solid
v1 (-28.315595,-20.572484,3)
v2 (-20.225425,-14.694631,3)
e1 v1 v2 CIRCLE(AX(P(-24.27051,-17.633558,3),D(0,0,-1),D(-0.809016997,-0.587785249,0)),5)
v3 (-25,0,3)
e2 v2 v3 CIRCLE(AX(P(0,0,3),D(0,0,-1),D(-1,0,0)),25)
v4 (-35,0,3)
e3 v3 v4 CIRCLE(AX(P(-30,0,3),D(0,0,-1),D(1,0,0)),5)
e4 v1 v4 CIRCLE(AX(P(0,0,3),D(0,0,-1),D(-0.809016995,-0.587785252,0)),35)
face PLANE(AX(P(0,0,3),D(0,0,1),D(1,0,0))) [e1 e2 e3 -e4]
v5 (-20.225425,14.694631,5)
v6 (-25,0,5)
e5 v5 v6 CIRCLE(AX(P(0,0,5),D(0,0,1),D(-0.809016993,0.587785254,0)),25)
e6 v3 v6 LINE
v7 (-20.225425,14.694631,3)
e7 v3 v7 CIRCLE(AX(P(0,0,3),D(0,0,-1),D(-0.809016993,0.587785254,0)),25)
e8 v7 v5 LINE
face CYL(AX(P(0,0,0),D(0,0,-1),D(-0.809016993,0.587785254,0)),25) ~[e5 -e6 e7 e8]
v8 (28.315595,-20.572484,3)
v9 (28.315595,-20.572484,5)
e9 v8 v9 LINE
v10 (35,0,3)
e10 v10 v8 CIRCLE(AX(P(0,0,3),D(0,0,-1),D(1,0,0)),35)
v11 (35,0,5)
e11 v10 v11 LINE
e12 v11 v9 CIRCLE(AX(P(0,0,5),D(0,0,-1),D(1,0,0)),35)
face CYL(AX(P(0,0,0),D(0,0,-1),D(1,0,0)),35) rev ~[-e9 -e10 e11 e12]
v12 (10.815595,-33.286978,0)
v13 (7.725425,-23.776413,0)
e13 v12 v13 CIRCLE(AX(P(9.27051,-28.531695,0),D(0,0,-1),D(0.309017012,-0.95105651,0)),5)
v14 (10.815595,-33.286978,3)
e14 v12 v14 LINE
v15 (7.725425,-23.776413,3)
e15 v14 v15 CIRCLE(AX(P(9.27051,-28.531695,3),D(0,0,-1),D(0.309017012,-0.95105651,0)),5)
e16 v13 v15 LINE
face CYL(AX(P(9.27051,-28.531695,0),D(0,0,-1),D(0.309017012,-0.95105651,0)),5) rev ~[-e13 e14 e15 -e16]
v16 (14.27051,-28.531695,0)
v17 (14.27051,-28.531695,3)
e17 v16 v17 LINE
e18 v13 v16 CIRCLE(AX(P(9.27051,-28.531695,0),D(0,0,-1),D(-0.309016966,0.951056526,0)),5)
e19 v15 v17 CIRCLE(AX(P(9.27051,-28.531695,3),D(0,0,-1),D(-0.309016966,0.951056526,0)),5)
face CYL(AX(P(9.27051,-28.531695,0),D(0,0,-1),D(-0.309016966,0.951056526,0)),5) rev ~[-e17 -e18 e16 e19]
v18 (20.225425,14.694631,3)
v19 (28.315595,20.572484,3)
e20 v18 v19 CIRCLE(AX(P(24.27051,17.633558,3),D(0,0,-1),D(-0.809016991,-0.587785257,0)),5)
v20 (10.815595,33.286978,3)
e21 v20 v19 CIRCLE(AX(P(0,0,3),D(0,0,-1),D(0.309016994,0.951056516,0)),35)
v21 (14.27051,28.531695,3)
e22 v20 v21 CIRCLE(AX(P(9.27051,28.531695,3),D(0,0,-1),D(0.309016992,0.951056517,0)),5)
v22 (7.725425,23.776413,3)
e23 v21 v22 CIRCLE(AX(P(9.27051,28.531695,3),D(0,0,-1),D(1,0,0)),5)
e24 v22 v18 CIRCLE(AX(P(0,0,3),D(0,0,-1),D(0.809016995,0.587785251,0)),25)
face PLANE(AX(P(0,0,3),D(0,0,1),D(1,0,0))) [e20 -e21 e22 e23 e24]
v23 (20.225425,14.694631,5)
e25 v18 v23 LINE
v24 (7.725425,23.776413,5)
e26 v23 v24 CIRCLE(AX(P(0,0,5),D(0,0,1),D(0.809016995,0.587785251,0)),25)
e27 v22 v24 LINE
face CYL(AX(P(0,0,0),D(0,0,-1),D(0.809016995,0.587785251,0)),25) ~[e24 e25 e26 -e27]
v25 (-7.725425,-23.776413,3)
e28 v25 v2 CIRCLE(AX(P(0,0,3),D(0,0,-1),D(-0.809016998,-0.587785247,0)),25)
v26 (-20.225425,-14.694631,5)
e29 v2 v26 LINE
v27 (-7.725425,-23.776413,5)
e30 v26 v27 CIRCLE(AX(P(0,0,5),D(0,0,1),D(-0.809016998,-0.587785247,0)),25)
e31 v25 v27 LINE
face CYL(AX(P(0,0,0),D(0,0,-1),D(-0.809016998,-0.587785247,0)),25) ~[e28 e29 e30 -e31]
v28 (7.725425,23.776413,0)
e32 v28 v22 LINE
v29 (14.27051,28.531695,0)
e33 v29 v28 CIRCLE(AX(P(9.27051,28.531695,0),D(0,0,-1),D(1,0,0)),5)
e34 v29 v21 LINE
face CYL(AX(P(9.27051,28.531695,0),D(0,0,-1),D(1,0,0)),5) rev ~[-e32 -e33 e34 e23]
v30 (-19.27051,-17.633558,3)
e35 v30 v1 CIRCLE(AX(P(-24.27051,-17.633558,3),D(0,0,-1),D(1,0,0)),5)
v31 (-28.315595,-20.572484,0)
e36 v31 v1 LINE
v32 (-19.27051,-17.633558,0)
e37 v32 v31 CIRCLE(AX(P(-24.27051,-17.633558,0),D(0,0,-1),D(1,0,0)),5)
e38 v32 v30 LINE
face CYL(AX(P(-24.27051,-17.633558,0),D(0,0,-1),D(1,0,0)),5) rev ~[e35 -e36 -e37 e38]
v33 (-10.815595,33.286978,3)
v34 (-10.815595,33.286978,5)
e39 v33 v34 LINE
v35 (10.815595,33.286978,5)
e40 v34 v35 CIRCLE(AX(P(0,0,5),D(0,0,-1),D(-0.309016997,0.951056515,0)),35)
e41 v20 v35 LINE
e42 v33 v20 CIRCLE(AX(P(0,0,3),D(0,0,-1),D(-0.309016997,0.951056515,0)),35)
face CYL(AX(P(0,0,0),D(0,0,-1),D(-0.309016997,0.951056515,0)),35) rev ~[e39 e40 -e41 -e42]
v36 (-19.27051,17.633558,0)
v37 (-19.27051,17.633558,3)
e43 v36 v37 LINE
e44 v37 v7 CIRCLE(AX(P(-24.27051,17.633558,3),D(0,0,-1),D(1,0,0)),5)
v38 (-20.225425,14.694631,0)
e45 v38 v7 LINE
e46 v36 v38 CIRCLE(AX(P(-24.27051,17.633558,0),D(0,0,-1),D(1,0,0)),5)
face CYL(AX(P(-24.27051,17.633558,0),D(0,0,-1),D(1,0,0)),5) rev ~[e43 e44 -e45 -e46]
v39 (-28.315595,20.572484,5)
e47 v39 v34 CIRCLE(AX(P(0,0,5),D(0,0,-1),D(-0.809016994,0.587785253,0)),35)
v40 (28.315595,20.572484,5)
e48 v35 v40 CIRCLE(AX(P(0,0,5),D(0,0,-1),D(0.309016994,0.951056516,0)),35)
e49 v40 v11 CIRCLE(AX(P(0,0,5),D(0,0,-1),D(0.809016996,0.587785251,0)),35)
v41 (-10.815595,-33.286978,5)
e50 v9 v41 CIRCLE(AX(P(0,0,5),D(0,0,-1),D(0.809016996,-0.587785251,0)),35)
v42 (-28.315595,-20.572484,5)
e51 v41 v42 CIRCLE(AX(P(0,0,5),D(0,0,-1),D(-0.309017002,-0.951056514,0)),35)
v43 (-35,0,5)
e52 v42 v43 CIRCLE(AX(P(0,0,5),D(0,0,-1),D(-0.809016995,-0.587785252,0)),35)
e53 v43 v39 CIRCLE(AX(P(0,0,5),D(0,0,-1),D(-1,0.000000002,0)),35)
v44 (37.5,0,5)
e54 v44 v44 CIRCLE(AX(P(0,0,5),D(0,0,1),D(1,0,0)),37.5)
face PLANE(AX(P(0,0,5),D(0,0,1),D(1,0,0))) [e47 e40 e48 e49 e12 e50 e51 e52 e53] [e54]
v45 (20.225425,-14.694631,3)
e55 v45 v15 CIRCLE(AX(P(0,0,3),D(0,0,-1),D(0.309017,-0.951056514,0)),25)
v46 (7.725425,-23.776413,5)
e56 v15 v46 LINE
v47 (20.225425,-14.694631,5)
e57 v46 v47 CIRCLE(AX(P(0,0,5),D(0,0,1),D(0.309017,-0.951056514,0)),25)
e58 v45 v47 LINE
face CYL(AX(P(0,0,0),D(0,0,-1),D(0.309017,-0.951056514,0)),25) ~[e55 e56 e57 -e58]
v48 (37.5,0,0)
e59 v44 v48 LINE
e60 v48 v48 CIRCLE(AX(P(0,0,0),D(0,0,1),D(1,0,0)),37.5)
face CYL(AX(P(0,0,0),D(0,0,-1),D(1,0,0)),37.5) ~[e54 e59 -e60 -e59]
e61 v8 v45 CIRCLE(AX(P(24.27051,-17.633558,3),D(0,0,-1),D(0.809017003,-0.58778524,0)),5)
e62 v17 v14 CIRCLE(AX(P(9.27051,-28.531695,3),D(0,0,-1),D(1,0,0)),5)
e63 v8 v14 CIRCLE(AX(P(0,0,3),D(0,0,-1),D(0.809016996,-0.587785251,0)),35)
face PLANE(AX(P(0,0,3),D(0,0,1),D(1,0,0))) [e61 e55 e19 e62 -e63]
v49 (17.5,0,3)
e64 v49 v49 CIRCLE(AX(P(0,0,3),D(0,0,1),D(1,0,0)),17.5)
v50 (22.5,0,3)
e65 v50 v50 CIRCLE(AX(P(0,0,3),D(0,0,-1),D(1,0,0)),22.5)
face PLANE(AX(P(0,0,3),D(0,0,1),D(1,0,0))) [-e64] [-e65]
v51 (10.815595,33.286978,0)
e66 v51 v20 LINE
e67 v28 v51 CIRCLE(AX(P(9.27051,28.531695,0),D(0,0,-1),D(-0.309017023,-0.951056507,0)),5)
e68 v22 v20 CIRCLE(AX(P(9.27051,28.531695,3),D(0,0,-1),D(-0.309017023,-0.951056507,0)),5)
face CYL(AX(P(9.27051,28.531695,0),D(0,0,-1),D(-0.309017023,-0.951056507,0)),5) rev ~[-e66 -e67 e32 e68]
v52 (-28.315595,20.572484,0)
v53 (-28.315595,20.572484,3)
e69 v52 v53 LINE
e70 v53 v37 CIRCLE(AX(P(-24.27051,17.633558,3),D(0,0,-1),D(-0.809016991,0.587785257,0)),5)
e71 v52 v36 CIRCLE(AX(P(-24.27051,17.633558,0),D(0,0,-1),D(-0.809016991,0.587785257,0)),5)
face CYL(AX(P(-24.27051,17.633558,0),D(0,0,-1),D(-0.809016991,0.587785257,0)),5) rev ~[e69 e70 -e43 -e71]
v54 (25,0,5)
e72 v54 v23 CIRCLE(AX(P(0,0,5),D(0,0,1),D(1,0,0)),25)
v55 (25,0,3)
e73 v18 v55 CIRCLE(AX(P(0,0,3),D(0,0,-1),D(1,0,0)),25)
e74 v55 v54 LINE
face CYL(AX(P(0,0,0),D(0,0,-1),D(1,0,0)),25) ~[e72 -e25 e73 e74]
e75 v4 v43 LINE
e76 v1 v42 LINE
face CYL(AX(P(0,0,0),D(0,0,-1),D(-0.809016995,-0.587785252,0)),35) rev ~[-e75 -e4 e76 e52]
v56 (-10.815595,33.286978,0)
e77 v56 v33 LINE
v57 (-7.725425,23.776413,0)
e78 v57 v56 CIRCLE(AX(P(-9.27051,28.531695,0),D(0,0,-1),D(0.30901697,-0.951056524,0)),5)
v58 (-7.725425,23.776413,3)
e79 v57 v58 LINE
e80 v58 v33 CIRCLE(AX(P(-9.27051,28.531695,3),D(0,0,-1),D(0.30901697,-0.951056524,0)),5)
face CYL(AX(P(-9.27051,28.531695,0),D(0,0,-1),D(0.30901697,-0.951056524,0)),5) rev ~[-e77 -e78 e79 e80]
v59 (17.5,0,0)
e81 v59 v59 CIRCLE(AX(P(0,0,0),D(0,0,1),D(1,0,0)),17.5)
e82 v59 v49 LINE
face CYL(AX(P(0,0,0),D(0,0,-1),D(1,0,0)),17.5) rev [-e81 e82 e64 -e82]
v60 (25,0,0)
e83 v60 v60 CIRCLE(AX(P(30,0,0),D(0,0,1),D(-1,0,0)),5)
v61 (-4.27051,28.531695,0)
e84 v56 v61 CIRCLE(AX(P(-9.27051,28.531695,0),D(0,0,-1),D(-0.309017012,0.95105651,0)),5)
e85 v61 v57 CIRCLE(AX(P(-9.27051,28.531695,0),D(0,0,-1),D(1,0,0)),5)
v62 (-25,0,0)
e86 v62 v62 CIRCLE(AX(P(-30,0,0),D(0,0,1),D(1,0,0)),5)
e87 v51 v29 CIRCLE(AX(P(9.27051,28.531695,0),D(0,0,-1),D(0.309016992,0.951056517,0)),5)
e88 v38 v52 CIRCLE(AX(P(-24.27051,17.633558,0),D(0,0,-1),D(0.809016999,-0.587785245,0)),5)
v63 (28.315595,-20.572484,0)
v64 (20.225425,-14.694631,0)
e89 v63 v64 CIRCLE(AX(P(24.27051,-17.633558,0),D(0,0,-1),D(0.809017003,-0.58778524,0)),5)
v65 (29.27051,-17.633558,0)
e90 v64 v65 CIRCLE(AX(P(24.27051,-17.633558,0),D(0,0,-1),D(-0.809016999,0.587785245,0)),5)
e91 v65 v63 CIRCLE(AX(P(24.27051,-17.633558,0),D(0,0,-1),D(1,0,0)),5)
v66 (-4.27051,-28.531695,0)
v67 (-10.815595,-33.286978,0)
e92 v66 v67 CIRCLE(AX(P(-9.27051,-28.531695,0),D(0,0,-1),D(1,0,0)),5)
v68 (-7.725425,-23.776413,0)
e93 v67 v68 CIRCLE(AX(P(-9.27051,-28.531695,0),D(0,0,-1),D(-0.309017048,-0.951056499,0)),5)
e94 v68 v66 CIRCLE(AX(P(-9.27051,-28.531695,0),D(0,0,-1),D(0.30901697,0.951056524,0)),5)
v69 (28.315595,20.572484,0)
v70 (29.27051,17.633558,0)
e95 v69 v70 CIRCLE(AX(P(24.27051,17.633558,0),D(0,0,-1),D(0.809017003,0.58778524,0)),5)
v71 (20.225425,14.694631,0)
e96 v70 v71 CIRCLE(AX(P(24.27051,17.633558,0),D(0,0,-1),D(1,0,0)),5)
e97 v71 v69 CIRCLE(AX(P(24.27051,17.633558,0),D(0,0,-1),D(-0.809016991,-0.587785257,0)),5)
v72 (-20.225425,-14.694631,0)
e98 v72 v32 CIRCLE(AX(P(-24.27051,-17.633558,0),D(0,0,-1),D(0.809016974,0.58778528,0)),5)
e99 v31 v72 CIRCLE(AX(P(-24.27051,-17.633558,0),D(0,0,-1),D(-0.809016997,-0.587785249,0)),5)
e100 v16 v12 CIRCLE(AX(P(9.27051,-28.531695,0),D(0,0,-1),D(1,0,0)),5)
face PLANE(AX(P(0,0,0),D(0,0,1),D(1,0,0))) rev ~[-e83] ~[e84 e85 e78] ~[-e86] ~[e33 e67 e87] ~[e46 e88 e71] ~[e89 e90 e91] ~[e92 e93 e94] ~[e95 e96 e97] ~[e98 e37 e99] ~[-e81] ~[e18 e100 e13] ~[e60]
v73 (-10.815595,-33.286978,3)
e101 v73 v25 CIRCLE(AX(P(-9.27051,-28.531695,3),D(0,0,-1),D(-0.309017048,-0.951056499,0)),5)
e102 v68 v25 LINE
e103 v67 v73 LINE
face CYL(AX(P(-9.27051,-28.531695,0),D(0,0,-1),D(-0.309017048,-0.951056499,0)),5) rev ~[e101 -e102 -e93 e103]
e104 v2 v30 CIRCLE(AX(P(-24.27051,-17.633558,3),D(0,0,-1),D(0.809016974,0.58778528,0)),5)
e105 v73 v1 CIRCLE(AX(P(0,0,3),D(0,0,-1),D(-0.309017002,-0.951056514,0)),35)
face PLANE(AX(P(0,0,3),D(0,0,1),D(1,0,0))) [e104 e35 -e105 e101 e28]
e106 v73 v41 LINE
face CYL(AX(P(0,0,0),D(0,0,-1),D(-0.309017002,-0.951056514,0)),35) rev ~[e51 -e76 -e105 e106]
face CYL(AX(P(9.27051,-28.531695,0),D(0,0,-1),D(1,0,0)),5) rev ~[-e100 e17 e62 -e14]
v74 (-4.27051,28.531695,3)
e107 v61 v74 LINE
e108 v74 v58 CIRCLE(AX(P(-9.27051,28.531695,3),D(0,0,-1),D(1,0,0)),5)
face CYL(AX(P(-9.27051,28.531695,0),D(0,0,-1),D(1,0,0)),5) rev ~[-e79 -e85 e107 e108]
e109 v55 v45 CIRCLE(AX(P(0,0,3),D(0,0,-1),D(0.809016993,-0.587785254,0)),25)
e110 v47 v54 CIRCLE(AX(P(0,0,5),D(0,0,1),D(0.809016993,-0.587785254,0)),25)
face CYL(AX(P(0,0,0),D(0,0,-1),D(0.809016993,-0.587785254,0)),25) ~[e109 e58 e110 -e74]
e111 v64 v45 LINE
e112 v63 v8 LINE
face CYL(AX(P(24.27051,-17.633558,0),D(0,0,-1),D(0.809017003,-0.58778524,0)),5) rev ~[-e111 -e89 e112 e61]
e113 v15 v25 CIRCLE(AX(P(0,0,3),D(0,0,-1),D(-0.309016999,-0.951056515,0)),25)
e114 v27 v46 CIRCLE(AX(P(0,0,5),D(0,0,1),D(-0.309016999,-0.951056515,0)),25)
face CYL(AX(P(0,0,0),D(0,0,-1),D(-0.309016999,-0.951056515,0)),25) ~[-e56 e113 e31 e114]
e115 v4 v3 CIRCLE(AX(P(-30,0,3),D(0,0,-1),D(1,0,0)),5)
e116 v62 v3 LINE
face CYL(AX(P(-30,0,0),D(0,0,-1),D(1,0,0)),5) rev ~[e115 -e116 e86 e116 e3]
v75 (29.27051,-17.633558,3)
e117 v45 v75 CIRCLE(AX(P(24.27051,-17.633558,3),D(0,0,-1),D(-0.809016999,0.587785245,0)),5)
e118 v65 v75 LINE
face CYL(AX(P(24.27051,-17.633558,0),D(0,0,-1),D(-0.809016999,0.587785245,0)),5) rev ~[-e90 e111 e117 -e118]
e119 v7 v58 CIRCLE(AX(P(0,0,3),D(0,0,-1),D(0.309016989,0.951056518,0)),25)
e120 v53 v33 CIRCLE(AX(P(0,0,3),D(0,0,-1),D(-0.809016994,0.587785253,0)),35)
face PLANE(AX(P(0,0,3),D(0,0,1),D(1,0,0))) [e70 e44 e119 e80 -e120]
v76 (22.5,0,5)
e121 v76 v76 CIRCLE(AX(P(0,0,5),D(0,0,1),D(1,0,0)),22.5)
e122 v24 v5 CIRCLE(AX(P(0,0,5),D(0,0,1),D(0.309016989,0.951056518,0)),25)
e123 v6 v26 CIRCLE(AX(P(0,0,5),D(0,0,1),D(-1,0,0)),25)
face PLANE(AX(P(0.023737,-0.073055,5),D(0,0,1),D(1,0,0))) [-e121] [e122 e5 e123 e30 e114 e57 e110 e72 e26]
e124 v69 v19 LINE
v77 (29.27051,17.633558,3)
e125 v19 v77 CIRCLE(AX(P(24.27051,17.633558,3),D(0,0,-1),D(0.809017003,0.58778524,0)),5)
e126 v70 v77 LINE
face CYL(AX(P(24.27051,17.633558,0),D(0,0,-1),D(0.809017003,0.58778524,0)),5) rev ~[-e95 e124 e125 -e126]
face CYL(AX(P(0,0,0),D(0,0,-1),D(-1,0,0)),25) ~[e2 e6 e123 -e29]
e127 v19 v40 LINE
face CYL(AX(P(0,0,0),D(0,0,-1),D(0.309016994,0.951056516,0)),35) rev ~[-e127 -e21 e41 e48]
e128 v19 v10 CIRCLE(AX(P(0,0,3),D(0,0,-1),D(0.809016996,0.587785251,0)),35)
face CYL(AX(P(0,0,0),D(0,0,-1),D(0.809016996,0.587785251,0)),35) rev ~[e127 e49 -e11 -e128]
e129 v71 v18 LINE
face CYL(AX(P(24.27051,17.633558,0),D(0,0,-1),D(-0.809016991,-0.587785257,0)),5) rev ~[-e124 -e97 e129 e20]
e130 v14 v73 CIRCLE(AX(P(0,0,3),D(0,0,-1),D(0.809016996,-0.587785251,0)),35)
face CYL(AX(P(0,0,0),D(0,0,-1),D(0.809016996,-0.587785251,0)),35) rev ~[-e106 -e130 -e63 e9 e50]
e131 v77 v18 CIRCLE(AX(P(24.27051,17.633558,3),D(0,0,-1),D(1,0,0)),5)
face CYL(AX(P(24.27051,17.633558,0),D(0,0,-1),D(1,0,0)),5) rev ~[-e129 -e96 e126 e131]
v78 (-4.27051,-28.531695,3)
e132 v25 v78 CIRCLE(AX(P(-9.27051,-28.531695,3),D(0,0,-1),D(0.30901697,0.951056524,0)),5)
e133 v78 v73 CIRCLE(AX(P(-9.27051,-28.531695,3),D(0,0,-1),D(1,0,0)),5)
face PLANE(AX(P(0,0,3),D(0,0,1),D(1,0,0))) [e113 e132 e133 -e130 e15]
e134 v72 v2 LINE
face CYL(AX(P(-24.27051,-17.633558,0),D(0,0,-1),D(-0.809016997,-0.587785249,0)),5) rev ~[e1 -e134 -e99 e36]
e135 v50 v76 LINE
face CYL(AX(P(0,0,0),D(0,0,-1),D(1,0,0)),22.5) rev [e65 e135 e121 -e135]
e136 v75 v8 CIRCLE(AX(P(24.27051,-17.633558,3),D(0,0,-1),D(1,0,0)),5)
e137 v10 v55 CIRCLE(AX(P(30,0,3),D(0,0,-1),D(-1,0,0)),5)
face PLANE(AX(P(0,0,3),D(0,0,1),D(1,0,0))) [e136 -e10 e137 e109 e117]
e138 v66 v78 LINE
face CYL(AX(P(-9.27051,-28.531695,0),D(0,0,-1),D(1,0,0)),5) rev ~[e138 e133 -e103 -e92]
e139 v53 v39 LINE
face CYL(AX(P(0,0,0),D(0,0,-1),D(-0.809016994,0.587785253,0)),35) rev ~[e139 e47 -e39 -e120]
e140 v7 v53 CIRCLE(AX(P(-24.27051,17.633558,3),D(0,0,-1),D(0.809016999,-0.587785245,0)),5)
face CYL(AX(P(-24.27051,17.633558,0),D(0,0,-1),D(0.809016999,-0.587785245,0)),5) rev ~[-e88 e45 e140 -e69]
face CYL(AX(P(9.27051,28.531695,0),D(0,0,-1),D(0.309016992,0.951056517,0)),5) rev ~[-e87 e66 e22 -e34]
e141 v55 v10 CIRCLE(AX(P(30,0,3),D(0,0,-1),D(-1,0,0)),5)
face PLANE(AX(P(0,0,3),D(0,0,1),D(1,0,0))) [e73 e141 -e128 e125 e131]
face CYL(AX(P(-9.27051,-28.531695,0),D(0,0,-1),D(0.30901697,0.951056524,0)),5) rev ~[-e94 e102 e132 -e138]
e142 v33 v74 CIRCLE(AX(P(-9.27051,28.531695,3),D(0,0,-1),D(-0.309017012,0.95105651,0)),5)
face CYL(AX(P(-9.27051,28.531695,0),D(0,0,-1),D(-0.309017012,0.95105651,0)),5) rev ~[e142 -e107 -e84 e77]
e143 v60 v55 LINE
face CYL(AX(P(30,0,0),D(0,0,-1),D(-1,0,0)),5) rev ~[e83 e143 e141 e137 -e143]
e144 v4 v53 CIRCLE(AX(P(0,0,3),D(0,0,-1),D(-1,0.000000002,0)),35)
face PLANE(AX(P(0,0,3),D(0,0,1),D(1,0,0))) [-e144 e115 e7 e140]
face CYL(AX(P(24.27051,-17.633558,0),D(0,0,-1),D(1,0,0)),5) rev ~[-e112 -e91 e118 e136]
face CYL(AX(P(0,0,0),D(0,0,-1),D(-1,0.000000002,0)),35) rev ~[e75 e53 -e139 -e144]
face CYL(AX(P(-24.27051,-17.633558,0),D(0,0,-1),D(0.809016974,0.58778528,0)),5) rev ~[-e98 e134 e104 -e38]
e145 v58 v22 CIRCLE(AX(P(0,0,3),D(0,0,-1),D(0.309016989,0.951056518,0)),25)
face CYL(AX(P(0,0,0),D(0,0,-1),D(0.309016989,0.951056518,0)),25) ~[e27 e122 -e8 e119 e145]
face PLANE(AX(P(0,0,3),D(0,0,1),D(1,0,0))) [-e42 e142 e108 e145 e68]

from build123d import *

# Parameters (mm, degrees)
F0_R     = 37.5
F0_R_2   = 22.5
F0_R_3   = 17.5
F1_DEPTH = 3
F2_DEPTH = 5


with BuildPart() as f1:
    # F0 (on Top) → F1 (new body)
    with BuildSketch(Plane.XY):
        Circle(F0_R)
        with BuildLine():
            ThreePointArc((28.3155948478, 20.5724837687), (33.2869780821, 10.8155947669), (35, 0))
            ThreePointArc((35, 0), (33.2869780821, -10.8155947669), (28.3155948478, -20.5724837687))
            ThreePointArc((28.3155948478, -20.5724837687), (20.5724838991, -28.3155947531), (10.8155948928, -33.2869780412))
            ThreePointArc((10.8155948928, -33.2869780412), (-9.47e-08, -35), (-10.8155950729, -33.2869779827))
            ThreePointArc((-10.8155950729, -33.2869779827), (-20.572483954, -28.3155947132), (-28.3155948162, -20.5724838122))
            ThreePointArc((-28.3155948162, -20.5724838122), (-33.2869780844, -10.8155947599), (-35, 6.87e-08))
            ThreePointArc((-35, 6.87e-08), (-33.286978055, 10.8155948504), (-28.3155947851, 20.572483855))
            ThreePointArc((-28.3155947851, 20.572483855), (-20.572483856, 28.3155947844), (-10.8155948928, 33.2869780412))
            ThreePointArc((-10.8155948928, 33.2869780412), (-5.37e-08, 35), (10.8155947907, 33.2869780744))
            ThreePointArc((10.8155947907, 33.2869780744), (20.5724838557, 28.3155947846), (28.3155948478, 20.5724837687))
        make_face(mode=Mode.SUBTRACT)
        with BuildLine():
            ThreePointArc((20.225424834, -14.6946313422), (23.7764129007, -7.7254248799), (25, 0))
            ThreePointArc((25, 0), (23.7764129114, 7.725424847), (20.2254248747, 14.6946312863))
            ThreePointArc((20.2254248747, 14.6946312863), (14.6946312563, 20.2254248964), (7.7254247148, 23.7764129544))
            ThreePointArc((7.7254247148, 23.7764129544), (-1.398e-07, 25), (-7.7254249808, 23.7764128679))
            ThreePointArc((-7.7254249808, 23.7764128679), (-14.6946313415, 20.2254248345), (-20.225424834, 14.6946313422))
            ThreePointArc((-20.225424834, 14.6946313422), (-23.7764129007, 7.7254248799), (-25, 0))
            ThreePointArc((-25, 0), (-23.7764129337, -7.7254247782), (-20.2254249597, -14.6946311693))
            ThreePointArc((-20.2254249597, -14.6946311693), (-14.694631428, -20.2254247717), (-7.7254249808, -23.7764128679))
            ThreePointArc((-7.7254249808, -23.7764128679), (1.09e-08, -25), (7.7254250015, -23.7764128612))
            ThreePointArc((7.7254250015, -23.7764128612), (14.6946313503, -20.2254248281), (20.225424834, -14.6946313422))
        make_face()
        Circle(F0_R_2, mode=Mode.SUBTRACT)
        Circle(F0_R_2)
        Circle(F0_R_3, mode=Mode.SUBTRACT)
        with BuildLine():
            ThreePointArc((10.8155948928, -33.2869780412), (4.5152272412, -30.0767804345), (7.7254250015, -23.7764128612))
            ThreePointArc((7.7254250015, -23.7764128612), (1.09e-08, -25), (-7.7254249808, -23.7764128679))
            ThreePointArc((-7.7254249808, -23.7764128679), (-5.2254248969, -25.5927691757), (-4.2705098312, -28.5316954889))
            ThreePointArc((-4.2705098312, -28.5316954889), (-6.3315836845, -32.5767805441), (-10.8155950729, -33.2869779827))
            ThreePointArc((-10.8155950729, -33.2869779827), (-9.47e-08, -35), (10.8155948928, -33.2869780412))
        make_face()
        with BuildLine():
            ThreePointArc((28.3155948478, -20.5724837687), (21.331583618, -21.6786425757), (20.225424834, -14.6946313422))
            ThreePointArc((20.225424834, -14.6946313422), (14.6946313503, -20.2254248281), (7.7254250015, -23.7764128612))
            ThreePointArc((7.7254250015, -23.7764128612), (12.2094361532, -24.4866105609), (14.2705098312, -28.5316954889))
            ThreePointArc((14.2705098312, -28.5316954889), (13.3155948308, -31.4706217122), (10.8155948928, -33.2869780412))
            ThreePointArc((10.8155948928, -33.2869780412), (20.5724838991, -28.3155947531), (28.3155948478, -20.5724837687))
        make_face()
        with BuildLine():
            ThreePointArc((35, 0), (30, -5), (25, 0))
            ThreePointArc((25, 0), (23.7764129007, -7.7254248799), (20.225424834, -14.6946313422))
            ThreePointArc((20.225424834, -14.6946313422), (25.8155947826, -12.8782749806), (29.2705098312, -17.6335575688))
            ThreePointArc((29.2705098312, -17.6335575688), (29.0257924245, -19.1786425045), (28.3155948478, -20.5724837687))
            ThreePointArc((28.3155948478, -20.5724837687), (33.2869780821, -10.8155947669), (35, 0))
        make_face()
        with BuildLine():
            ThreePointArc((20.2254248747, 14.6946312863), (23.7764129114, 7.725424847), (25, 0))
            ThreePointArc((25, 0), (30, 5), (35, 0))
            ThreePointArc((35, 0), (33.2869780821, 10.8155947669), (28.3155948478, 20.5724837687))
            ThreePointArc((28.3155948478, 20.5724837687), (29.0257924245, 19.1786425045), (29.2705098312, 17.6335575688))
            ThreePointArc((29.2705098312, 17.6335575688), (25.8155948155, 12.8782749913), (20.2254248747, 14.6946312863))
        make_face()
        with BuildLine():
            ThreePointArc((7.7254247148, 23.7764129544), (14.6946312563, 20.2254248964), (20.2254248747, 14.6946312863))
            ThreePointArc((20.2254248747, 14.6946312863), (21.33158359, 21.6786425554), (28.3155948478, 20.5724837687))
            ThreePointArc((28.3155948478, 20.5724837687), (20.5724838557, 28.3155947846), (10.8155947907, 33.2869780744))
            ThreePointArc((10.8155947907, 33.2869780744), (13.3155947993, 31.4706217556), (14.2705098312, 28.5316954889))
            ThreePointArc((14.2705098312, 28.5316954889), (12.2094360312, 24.4866104723), (7.7254247148, 23.7764129544))
        make_face()
        with BuildLine():
            ThreePointArc((-7.7254249808, 23.7764128679), (-1.398e-07, 25), (7.7254247148, 23.7764129544))
            ThreePointArc((7.7254247148, 23.7764129544), (4.5152272712, 30.0767805268), (10.8155947907, 33.2869780744))
            ThreePointArc((10.8155947907, 33.2869780744), (-5.37e-08, 35), (-10.8155948928, 33.2869780412))
            ThreePointArc((-10.8155948928, 33.2869780412), (-6.3315836079, 32.5767804884), (-4.2705098312, 28.5316954889))
            ThreePointArc((-4.2705098312, 28.5316954889), (-5.2254248969, 25.5927691758), (-7.7254249808, 23.7764128679))
        make_face()
        with BuildLine():
            ThreePointArc((-20.225424834, 14.6946313422), (-14.6946313415, 20.2254248345), (-7.7254249808, 23.7764128679))
            ThreePointArc((-7.7254249808, 23.7764128679), (-14.0257924179, 26.9866105329), (-10.8155948928, 33.2869780412))
            ThreePointArc((-10.8155948928, 33.2869780412), (-20.572483856, 28.3155947844), (-28.3155947851, 20.572483855))
            ThreePointArc((-28.3155947851, 20.572483855), (-22.7254248448, 22.3888401455), (-19.2705098312, 17.6335575688))
            ThreePointArc((-19.2705098312, 17.6335575688), (-19.5152272431, 16.0884726174), (-20.225424834, 14.6946313422))
        make_face()
        with BuildLine():
            ThreePointArc((-25, 0), (-23.7764129007, 7.7254248799), (-20.225424834, 14.6946313422))
            ThreePointArc((-20.225424834, 14.6946313422), (-27.2094360876, 13.5884725932), (-28.3155947851, 20.572483855))
            ThreePointArc((-28.3155947851, 20.572483855), (-33.286978055, 10.8155948504), (-35, 6.87e-08))
            ThreePointArc((-35, 6.87e-08), (-29.9999999656, 5), (-25, 0))
        make_face()
        with BuildLine():
            ThreePointArc((-10.8155950729, -33.2869779827), (-14.0257923886, -26.9866104428), (-7.7254249808, -23.7764128679))
            ThreePointArc((-7.7254249808, -23.7764128679), (-14.694631428, -20.2254247717), (-20.2254249597, -14.6946311693))
            ThreePointArc((-20.2254249597, -14.6946311693), (-19.5152272761, -16.0884725158), (-19.2705098312, -17.6335575688))
            ThreePointArc((-19.2705098312, -17.6335575688), (-22.72542487, -22.3888401537), (-28.3155948162, -20.5724838122))
            ThreePointArc((-28.3155948162, -20.5724838122), (-20.572483954, -28.3155947132), (-10.8155950729, -33.2869779827))
        make_face()
        with BuildLine():
            ThreePointArc((-28.3155948162, -20.5724838122), (-27.2094361527, -13.5884726405), (-20.2254249597, -14.6946311693))
            ThreePointArc((-20.2254249597, -14.6946311693), (-23.7764129337, -7.7254247782), (-25, 0))
            ThreePointArc((-25, 0), (-30.0000000344, -5), (-35, 6.87e-08))
            ThreePointArc((-35, 6.87e-08), (-33.2869780844, -10.8155947599), (-28.3155948162, -20.5724838122))
        make_face()
    extrude(amount=F1_DEPTH)

    # F0 (on Top) → F2 (join)
    with BuildSketch(Plane.XY):
        Circle(F0_R)
        with BuildLine():
            ThreePointArc((28.3155948478, 20.5724837687), (33.2869780821, 10.8155947669), (35, 0))
            ThreePointArc((35, 0), (33.2869780821, -10.8155947669), (28.3155948478, -20.5724837687))
            ThreePointArc((28.3155948478, -20.5724837687), (20.5724838991, -28.3155947531), (10.8155948928, -33.2869780412))
            ThreePointArc((10.8155948928, -33.2869780412), (-9.47e-08, -35), (-10.8155950729, -33.2869779827))
            ThreePointArc((-10.8155950729, -33.2869779827), (-20.572483954, -28.3155947132), (-28.3155948162, -20.5724838122))
            ThreePointArc((-28.3155948162, -20.5724838122), (-33.2869780844, -10.8155947599), (-35, 6.87e-08))
            ThreePointArc((-35, 6.87e-08), (-33.286978055, 10.8155948504), (-28.3155947851, 20.572483855))
            ThreePointArc((-28.3155947851, 20.572483855), (-20.572483856, 28.3155947844), (-10.8155948928, 33.2869780412))
            ThreePointArc((-10.8155948928, 33.2869780412), (-5.37e-08, 35), (10.8155947907, 33.2869780744))
            ThreePointArc((10.8155947907, 33.2869780744), (20.5724838557, 28.3155947846), (28.3155948478, 20.5724837687))
        make_face(mode=Mode.SUBTRACT)
        with BuildLine():
            ThreePointArc((20.225424834, -14.6946313422), (23.7764129007, -7.7254248799), (25, 0))
            ThreePointArc((25, 0), (23.7764129114, 7.725424847), (20.2254248747, 14.6946312863))
            ThreePointArc((20.2254248747, 14.6946312863), (14.6946312563, 20.2254248964), (7.7254247148, 23.7764129544))
            ThreePointArc((7.7254247148, 23.7764129544), (-1.398e-07, 25), (-7.7254249808, 23.7764128679))
            ThreePointArc((-7.7254249808, 23.7764128679), (-14.6946313415, 20.2254248345), (-20.225424834, 14.6946313422))
            ThreePointArc((-20.225424834, 14.6946313422), (-23.7764129007, 7.7254248799), (-25, 0))
            ThreePointArc((-25, 0), (-23.7764129337, -7.7254247782), (-20.2254249597, -14.6946311693))
            ThreePointArc((-20.2254249597, -14.6946311693), (-14.694631428, -20.2254247717), (-7.7254249808, -23.7764128679))
            ThreePointArc((-7.7254249808, -23.7764128679), (1.09e-08, -25), (7.7254250015, -23.7764128612))
            ThreePointArc((7.7254250015, -23.7764128612), (14.6946313503, -20.2254248281), (20.225424834, -14.6946313422))
        make_face()
        Circle(F0_R_2, mode=Mode.SUBTRACT)
    extrude(amount=F2_DEPTH)


solid = f1.part
